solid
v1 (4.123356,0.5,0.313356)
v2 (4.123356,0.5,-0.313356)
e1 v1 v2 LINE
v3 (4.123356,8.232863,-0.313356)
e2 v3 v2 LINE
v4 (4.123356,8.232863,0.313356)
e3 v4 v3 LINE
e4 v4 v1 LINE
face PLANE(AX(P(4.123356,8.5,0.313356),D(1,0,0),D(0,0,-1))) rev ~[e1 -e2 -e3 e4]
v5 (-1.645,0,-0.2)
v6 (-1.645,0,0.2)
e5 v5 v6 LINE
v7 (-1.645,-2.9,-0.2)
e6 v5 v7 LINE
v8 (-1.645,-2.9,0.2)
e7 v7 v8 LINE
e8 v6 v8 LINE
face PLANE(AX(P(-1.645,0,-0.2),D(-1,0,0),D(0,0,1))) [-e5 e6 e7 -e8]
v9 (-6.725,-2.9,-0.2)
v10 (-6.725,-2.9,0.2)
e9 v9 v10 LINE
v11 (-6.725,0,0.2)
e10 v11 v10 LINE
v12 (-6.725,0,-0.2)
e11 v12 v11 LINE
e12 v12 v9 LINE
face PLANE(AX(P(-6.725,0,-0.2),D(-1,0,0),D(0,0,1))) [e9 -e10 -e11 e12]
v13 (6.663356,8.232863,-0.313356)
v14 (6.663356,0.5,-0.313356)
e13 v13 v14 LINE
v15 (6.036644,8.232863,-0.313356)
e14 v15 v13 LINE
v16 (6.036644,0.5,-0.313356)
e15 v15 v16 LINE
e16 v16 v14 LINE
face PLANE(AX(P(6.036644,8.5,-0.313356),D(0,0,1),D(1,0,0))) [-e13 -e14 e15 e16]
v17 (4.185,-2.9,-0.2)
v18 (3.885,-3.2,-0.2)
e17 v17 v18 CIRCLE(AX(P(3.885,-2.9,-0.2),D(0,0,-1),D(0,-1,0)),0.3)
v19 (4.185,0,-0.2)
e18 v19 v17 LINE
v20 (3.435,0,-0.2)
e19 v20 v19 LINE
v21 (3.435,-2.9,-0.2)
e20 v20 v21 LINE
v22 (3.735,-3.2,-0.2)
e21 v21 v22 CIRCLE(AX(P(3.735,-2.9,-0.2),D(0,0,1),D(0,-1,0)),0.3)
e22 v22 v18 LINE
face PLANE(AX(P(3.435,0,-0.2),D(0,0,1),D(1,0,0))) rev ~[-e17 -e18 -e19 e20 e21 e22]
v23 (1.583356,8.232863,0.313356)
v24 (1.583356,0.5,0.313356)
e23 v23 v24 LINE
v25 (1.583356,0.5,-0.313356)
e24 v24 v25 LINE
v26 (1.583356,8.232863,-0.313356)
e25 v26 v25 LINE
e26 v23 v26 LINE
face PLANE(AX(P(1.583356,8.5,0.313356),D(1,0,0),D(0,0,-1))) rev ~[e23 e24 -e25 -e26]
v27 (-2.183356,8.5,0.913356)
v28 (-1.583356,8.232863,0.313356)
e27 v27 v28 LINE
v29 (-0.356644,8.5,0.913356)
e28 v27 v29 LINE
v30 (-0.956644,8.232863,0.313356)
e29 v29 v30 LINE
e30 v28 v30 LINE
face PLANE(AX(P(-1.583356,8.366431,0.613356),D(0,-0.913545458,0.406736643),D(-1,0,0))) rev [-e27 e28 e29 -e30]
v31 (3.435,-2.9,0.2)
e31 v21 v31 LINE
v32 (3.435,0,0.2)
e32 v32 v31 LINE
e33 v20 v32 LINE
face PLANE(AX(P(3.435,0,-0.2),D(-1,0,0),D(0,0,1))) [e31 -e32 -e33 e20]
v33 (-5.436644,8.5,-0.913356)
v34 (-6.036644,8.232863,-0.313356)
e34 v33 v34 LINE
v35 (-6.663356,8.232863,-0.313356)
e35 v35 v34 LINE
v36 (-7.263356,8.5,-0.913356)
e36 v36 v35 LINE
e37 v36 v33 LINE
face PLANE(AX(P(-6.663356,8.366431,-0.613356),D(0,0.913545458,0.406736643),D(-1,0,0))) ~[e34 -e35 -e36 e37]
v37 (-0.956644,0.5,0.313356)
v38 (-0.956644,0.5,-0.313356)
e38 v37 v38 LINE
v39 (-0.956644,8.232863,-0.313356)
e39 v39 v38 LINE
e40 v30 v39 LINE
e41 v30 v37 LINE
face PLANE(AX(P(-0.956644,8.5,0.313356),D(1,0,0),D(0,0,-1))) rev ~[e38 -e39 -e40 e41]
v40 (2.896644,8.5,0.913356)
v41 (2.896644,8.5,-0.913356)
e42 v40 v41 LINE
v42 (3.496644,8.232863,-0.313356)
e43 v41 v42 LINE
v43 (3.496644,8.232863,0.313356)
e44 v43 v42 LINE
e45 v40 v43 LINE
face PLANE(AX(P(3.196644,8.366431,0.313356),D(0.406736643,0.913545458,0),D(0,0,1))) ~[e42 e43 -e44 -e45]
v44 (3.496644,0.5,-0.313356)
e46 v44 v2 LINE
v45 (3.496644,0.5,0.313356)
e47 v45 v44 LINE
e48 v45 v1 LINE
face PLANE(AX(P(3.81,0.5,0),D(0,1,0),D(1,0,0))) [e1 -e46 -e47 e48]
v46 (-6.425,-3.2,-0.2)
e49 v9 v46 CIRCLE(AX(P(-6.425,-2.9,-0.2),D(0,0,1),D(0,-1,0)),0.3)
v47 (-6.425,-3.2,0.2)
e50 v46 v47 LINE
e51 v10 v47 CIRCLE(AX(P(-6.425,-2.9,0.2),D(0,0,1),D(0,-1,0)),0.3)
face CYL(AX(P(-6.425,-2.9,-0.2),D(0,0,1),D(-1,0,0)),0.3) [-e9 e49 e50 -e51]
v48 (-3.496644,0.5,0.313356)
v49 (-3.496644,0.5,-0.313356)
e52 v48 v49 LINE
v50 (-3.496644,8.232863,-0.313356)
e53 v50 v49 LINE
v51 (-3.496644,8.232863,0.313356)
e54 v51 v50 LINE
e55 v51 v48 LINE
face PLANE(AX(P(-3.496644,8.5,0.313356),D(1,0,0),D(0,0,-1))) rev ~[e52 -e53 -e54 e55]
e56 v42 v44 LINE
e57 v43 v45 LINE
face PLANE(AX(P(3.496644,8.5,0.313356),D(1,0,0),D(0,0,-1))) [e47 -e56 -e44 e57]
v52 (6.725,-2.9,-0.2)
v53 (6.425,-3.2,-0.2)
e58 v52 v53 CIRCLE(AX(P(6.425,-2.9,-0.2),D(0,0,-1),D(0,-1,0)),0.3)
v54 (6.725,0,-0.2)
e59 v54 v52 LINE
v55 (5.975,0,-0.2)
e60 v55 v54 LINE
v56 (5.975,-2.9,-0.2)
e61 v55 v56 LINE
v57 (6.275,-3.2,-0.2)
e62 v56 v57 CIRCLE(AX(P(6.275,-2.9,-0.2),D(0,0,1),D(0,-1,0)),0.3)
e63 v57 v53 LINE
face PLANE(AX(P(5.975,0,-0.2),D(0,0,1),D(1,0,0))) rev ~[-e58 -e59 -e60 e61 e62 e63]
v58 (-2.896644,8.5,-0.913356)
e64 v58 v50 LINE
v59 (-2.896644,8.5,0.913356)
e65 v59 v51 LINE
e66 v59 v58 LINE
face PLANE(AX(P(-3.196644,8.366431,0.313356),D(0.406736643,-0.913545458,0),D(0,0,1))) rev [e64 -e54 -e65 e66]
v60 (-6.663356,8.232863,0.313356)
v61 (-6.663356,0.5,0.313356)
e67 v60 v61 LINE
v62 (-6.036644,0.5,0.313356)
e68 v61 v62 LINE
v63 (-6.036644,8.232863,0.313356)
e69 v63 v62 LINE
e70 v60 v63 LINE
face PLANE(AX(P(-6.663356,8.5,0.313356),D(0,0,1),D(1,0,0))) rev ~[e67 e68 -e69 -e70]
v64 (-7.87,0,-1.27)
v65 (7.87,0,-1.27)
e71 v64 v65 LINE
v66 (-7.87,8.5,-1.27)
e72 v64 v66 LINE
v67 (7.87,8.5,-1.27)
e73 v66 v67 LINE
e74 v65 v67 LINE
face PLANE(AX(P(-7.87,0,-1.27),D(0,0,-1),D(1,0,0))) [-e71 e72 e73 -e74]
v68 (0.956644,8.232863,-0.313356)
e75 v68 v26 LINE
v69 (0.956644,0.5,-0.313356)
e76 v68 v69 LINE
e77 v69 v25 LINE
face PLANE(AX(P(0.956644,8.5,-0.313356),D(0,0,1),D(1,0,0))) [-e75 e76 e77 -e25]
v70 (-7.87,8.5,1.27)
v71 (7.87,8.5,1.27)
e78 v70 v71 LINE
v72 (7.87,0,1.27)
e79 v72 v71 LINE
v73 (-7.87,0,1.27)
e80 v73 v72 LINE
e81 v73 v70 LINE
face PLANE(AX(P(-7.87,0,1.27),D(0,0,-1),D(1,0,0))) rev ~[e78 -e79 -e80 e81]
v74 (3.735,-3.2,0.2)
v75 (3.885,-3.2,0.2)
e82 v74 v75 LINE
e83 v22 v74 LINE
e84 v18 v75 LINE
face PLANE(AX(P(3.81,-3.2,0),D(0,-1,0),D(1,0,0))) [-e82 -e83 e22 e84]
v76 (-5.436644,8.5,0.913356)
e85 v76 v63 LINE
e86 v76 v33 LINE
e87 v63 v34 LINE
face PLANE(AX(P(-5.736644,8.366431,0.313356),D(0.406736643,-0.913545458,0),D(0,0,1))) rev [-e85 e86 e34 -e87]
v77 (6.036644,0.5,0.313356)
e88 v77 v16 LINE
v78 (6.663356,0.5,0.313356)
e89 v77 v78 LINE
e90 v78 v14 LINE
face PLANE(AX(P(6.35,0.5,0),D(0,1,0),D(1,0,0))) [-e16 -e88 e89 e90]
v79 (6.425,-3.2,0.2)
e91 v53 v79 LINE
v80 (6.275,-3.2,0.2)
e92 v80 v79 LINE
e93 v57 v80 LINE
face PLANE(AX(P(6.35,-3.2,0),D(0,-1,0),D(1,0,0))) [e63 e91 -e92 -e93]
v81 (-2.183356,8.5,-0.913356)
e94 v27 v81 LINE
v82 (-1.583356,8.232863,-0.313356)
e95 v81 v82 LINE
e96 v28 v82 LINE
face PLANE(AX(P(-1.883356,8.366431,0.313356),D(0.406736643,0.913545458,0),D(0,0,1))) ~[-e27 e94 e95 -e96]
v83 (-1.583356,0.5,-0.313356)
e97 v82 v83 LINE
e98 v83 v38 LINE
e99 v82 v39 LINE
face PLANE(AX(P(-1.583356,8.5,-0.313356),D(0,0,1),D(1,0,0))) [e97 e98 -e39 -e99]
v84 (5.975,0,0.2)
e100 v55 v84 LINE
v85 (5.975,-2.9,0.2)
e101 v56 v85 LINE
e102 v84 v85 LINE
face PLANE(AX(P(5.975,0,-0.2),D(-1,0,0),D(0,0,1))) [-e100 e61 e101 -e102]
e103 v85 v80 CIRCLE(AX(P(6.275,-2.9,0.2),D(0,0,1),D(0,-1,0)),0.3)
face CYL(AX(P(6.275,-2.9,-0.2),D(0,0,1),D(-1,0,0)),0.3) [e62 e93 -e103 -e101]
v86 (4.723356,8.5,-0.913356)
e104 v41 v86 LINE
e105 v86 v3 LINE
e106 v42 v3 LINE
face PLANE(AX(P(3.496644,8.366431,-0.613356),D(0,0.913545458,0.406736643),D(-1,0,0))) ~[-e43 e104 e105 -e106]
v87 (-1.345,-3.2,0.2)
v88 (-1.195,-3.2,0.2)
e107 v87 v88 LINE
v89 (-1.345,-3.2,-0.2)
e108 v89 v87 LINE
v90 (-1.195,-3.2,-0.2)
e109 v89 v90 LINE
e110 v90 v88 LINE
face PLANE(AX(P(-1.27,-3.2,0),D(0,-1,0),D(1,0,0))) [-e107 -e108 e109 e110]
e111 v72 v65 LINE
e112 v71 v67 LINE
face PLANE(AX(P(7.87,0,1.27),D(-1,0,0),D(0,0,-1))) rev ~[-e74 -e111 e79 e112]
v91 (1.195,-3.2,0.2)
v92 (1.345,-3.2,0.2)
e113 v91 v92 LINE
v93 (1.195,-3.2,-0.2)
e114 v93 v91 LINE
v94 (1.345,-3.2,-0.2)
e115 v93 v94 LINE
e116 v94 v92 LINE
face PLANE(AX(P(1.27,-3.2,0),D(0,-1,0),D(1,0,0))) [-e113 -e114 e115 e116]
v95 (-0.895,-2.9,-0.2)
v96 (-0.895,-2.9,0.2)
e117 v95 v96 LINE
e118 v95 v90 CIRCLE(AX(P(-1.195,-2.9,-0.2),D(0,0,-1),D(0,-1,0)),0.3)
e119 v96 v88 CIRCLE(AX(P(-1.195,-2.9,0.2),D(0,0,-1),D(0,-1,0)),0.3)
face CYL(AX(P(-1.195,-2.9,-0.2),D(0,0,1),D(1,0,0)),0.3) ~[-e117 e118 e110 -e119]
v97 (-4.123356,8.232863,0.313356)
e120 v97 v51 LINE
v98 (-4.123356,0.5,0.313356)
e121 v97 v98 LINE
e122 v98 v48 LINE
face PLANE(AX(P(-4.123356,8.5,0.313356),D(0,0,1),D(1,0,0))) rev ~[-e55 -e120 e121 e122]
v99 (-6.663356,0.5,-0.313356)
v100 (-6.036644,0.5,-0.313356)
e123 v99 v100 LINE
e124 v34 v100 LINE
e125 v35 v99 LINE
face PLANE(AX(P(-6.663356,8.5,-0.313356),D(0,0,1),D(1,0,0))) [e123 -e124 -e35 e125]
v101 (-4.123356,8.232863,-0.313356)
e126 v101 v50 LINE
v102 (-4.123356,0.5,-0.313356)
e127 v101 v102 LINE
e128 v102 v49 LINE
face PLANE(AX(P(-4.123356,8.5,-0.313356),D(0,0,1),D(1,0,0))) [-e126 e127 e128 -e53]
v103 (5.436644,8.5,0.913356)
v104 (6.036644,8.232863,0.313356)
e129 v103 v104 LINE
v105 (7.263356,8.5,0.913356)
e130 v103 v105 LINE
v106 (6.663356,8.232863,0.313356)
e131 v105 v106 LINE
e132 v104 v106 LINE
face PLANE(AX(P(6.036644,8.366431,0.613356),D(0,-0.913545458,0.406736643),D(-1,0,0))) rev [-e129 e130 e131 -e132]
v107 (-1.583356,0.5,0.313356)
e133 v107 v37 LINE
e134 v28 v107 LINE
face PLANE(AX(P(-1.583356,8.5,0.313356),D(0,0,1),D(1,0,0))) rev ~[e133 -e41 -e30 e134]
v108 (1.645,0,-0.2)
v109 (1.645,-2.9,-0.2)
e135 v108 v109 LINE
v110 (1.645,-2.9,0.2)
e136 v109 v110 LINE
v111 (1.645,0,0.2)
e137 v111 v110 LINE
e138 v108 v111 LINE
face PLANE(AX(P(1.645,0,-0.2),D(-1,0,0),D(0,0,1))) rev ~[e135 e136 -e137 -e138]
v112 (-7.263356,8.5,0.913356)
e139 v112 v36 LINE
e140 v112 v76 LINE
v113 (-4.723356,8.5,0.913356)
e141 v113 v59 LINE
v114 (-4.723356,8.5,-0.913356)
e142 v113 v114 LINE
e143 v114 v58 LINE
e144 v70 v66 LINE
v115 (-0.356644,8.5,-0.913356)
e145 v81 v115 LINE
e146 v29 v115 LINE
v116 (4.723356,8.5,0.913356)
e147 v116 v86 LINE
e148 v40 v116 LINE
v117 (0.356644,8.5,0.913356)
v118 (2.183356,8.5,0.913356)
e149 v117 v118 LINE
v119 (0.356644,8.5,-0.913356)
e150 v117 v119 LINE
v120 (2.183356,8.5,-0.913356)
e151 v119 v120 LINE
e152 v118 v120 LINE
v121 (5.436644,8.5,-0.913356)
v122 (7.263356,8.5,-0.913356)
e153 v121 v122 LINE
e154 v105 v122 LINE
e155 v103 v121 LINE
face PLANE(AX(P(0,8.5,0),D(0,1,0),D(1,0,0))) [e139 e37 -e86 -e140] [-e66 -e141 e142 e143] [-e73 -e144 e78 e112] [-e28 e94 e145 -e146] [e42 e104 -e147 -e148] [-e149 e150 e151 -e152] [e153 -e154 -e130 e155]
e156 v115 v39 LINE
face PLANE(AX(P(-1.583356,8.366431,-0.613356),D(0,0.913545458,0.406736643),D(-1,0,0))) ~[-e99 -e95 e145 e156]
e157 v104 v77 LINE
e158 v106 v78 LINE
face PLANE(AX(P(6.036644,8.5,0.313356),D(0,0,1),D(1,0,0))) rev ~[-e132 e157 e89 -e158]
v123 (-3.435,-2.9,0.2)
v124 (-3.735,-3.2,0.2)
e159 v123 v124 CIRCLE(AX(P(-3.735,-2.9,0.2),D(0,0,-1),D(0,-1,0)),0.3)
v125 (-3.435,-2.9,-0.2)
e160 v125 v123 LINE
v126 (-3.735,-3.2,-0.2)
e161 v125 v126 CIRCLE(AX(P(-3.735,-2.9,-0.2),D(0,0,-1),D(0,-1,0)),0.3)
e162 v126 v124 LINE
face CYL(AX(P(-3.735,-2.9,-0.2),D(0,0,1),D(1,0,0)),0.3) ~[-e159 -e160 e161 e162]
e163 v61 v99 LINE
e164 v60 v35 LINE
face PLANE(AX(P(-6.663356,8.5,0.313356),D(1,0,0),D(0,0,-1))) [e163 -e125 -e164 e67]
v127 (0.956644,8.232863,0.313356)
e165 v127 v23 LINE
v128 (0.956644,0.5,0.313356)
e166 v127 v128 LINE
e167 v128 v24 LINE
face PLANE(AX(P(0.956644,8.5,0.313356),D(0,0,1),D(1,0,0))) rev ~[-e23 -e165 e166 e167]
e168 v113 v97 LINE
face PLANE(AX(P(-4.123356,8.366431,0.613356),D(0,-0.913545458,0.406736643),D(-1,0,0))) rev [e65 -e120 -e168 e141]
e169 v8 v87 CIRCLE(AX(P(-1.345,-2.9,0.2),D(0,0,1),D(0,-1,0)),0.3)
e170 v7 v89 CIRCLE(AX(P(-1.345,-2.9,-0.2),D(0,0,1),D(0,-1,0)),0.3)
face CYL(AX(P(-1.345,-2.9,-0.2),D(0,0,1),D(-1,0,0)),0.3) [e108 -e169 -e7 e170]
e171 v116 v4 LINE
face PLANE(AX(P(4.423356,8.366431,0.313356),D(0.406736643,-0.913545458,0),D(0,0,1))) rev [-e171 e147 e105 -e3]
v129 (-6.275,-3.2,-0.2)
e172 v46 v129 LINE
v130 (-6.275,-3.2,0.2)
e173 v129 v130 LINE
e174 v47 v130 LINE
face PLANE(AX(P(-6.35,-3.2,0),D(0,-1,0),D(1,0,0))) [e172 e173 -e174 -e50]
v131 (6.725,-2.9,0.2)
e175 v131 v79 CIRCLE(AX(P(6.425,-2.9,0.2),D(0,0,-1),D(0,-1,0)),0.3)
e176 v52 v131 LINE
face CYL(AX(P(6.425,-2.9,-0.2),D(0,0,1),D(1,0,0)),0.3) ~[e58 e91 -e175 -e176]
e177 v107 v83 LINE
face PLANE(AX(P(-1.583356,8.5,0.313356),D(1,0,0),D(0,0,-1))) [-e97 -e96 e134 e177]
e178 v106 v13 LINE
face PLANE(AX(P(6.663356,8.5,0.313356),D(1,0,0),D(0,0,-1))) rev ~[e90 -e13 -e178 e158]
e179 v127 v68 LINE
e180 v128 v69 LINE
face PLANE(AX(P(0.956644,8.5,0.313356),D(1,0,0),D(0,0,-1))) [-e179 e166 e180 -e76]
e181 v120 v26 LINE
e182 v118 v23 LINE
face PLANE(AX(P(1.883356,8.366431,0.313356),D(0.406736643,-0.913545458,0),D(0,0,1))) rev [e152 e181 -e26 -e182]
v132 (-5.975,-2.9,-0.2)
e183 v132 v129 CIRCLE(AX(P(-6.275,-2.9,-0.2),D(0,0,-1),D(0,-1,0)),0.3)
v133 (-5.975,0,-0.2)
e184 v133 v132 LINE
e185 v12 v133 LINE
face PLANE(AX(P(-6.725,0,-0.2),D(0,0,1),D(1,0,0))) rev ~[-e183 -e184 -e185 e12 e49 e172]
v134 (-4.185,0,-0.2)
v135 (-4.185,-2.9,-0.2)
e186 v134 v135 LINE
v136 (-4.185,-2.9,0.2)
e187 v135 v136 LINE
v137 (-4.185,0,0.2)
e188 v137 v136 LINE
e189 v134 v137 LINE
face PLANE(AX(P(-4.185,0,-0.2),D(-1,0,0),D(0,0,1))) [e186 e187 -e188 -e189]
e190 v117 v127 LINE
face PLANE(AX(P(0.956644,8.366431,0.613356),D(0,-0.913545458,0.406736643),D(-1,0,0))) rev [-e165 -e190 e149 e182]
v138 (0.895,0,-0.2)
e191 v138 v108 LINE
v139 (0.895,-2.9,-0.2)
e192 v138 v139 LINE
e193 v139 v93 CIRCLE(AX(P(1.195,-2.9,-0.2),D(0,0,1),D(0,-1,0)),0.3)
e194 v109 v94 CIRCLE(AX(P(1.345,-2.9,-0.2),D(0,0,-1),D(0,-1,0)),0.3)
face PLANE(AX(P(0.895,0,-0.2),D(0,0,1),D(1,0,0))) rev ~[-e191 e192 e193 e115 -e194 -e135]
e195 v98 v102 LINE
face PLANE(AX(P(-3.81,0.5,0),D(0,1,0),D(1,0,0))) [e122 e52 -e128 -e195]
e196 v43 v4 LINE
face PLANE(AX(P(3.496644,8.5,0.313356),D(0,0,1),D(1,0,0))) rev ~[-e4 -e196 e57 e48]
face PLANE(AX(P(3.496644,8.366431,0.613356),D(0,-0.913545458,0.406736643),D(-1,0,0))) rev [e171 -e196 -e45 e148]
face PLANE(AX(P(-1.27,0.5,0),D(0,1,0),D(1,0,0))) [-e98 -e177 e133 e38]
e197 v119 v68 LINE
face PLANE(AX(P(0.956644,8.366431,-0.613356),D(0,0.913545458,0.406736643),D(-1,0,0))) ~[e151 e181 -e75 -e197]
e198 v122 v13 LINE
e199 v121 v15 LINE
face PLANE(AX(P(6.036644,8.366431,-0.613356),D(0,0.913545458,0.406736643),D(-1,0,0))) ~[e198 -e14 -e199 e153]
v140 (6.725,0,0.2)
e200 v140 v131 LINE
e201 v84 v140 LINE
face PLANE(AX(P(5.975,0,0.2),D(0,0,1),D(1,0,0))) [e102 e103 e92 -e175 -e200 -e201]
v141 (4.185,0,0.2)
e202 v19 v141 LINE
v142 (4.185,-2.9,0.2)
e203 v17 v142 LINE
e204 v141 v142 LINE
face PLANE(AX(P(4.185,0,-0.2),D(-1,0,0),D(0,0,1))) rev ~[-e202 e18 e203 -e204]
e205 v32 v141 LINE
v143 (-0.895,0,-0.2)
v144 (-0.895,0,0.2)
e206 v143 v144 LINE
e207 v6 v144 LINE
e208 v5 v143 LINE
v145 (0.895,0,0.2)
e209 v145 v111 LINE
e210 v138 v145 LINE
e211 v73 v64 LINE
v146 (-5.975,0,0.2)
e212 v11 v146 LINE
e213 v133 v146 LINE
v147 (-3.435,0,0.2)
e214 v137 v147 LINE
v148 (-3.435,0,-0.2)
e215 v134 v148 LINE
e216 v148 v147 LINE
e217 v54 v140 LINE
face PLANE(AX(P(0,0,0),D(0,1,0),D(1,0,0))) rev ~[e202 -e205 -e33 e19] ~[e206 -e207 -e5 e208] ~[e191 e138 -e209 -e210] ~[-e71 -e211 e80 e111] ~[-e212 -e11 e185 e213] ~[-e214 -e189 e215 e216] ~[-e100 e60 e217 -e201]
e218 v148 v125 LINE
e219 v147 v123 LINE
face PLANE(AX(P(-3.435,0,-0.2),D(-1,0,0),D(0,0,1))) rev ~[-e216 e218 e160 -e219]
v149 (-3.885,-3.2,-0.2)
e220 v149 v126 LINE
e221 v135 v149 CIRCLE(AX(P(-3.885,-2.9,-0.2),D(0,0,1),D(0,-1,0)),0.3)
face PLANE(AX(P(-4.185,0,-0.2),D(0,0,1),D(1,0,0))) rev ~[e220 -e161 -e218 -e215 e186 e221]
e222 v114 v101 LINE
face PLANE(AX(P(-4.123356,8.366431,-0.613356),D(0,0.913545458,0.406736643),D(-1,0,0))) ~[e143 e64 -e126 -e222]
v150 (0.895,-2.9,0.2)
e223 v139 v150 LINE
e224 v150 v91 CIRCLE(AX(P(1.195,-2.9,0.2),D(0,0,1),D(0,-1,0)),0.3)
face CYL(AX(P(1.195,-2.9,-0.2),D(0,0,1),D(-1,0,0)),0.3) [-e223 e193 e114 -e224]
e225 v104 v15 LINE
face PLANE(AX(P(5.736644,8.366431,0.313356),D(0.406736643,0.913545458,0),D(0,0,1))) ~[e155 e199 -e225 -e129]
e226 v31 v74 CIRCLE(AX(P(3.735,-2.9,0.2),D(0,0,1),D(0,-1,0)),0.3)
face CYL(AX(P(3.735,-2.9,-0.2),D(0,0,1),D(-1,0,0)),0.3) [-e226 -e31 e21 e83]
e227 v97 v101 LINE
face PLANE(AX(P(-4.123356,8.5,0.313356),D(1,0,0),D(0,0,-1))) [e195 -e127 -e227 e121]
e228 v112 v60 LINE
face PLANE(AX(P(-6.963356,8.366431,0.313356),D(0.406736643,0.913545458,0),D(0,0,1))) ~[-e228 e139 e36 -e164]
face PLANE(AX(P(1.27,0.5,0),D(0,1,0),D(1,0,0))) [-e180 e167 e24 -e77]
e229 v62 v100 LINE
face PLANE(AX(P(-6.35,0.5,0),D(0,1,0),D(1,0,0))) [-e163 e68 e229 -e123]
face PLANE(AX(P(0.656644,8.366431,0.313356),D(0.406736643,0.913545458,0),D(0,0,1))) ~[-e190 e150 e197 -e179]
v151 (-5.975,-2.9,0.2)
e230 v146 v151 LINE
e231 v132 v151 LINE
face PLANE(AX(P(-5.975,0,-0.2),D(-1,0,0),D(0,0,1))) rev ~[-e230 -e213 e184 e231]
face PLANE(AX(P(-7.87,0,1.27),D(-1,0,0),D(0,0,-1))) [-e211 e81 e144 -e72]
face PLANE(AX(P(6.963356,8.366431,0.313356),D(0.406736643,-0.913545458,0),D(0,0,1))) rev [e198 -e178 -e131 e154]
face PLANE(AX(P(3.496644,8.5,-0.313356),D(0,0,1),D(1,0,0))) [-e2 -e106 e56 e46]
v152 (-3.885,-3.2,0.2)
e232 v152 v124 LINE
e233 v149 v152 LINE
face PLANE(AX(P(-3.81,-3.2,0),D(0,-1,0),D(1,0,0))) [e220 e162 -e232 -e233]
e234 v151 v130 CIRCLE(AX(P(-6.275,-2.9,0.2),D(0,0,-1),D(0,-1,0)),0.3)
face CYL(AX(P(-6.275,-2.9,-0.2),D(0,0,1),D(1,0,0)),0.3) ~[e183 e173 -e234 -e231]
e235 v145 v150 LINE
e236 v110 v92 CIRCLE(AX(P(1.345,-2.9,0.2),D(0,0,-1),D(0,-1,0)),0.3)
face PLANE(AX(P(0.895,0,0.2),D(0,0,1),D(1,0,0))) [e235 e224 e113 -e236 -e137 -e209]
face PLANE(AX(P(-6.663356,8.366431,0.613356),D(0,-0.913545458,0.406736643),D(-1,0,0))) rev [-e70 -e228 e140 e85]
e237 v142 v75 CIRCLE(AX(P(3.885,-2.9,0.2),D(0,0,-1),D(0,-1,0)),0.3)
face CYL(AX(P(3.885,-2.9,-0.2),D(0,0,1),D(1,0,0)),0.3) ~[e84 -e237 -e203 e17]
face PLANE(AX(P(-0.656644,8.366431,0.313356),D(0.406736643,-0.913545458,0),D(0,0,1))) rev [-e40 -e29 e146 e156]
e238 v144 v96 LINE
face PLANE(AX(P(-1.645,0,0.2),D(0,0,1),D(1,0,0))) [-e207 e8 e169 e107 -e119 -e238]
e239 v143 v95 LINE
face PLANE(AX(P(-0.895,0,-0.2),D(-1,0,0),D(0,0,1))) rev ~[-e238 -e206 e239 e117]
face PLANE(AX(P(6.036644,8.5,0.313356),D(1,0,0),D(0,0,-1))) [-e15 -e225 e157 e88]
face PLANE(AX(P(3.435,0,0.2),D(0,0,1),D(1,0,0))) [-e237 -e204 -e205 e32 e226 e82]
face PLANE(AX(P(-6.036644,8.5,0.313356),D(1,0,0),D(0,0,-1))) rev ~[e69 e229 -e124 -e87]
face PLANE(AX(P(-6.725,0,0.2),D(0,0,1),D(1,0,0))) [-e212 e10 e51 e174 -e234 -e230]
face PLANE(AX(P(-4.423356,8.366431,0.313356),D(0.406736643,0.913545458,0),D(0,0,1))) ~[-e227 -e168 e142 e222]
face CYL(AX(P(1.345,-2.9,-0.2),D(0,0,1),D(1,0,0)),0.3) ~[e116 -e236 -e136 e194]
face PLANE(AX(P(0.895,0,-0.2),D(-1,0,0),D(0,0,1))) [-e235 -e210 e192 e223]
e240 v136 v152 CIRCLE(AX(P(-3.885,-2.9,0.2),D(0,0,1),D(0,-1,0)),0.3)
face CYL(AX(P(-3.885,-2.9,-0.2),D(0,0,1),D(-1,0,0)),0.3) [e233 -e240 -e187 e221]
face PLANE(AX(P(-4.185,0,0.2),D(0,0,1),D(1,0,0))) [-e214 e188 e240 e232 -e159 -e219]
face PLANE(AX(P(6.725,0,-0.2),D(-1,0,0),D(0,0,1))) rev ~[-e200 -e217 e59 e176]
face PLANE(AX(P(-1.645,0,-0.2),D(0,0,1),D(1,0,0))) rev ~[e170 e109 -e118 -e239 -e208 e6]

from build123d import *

# Parameters (mm, degrees)
ESQUISSE1_W             = 15.74
ESQUISSE1_H             = 2.54
BOSS_EXTRU_1_DEPTH      = 8.5
ESQUISSE3_W             = 0.626711562
ESQUISSE3_H             = 0.626711562
ENL_V_MAT_EXTRU_3_DEPTH = 8
CHANFREIN3_SIZE         = 0.6
CHANFREIN3_SIZE2        = 0.267137211
ESQUISSE6_W             = 0.75
ESQUISSE6_H             = 0.4
BOSS_EXTRU_3_DEPTH      = 3.2
CONG_1_R                = 0.3


with BuildPart() as part:
    # Esquisse1 → Boss.-Extru.1 (new body)
    with BuildSketch(Plane(origin=(0, 0, 0), x_dir=(1, 0, 0), z_dir=(0, 1, 0))):
        Rectangle(ESQUISSE1_W, ESQUISSE1_H)
    extrude(amount=BOSS_EXTRU_1_DEPTH)

    # Esquisse3 → Enlèv. mat.-Extru.3 (cut)
    with BuildSketch(Plane(origin=(0, 8.5, 0), x_dir=(1, 0, 0), z_dir=(0, 1, 0))):
        with Locations((-6.35, 0)):
            Rectangle(ESQUISSE3_W, ESQUISSE3_H)
        with Locations((-3.81, 0)):
            Rectangle(ESQUISSE3_W, ESQUISSE3_H)
        with Locations((-1.27, 0)):
            Rectangle(ESQUISSE3_W, ESQUISSE3_H)
        with Locations((1.27, 0)):
            Rectangle(ESQUISSE3_W, ESQUISSE3_H)
        with Locations((3.81, 0)):
            Rectangle(ESQUISSE3_W, ESQUISSE3_H)
        with Locations((6.35, 0)):
            Rectangle(ESQUISSE3_W, ESQUISSE3_H)
    extrude(amount=-ENL_V_MAT_EXTRU_3_DEPTH, mode=Mode.SUBTRACT)

    # Chanfrein3
    chanfrein3_edges = [part.edges().sort_by_distance(p)[0] for p in [
        (-3.81, 8.5, -0.313355781),
        (-3.496644219, 8.5, 0),
        (-4.123355781, 8.5, 0),
        (-3.81, 8.5, 0.313355781),
        (-6.35, 8.5, -0.313355781),
        (-6.036644219, 8.5, 0),
        (-6.663355781, 8.5, 0),
        (-6.35, 8.5, 0.313355781),
        (3.81, 8.5, -0.313355781),
        (4.123355781, 8.5, 0),
        (3.496644219, 8.5, 0),
        (3.81, 8.5, 0.313355781),
        (1.27, 8.5, -0.313355781),
        (1.583355781, 8.5, 0),
        (0.956644219, 8.5, 0),
        (1.27, 8.5, 0.313355781),
        (-1.27, 8.5, -0.313355781),
        (-0.956644219, 8.5, 0),
        (-1.583355781, 8.5, 0),
        (-1.27, 8.5, 0.313355781),
        (6.35, 8.5, -0.313355781),
        (6.663355781, 8.5, 0),
        (6.036644219, 8.5, 0),
        (6.35, 8.5, 0.313355781),
    ]]
    chanfrein3_side = [part.faces().sort_by_distance(p)[0] for p in [
        (0, 8.5, 0),
    ]]
    chamfer(chanfrein3_edges, length=CHANFREIN3_SIZE, length2=CHANFREIN3_SIZE2, reference=chanfrein3_side[0])

    # Esquisse6 → Boss.-Extru.3 (add)
    with BuildSketch(Plane.XZ):
        with Locations((-6.35, 0)):
            Rectangle(ESQUISSE6_W, ESQUISSE6_H)
        with Locations((-3.81, 0)):
            Rectangle(ESQUISSE6_W, ESQUISSE6_H)
        with Locations((-1.27, 0)):
            Rectangle(ESQUISSE6_W, ESQUISSE6_H)
        with Locations((1.27, 0)):
            Rectangle(ESQUISSE6_W, ESQUISSE6_H)
        with Locations((3.81, 0)):
            Rectangle(ESQUISSE6_W, ESQUISSE6_H)
        with Locations((6.35, 0)):
            Rectangle(ESQUISSE6_W, ESQUISSE6_H)
    extrude(amount=BOSS_EXTRU_3_DEPTH)

    # Congé1
    cong_1_edges = [part.edges().sort_by_distance(p)[0] for p in [
        (-5.975, -3.2, 0),
        (-6.725, -3.2, 0),
        (-3.435, -3.2, 0),
        (-4.185, -3.2, 0),
        (-0.895, -3.2, 0),
        (-1.645, -3.2, 0),
        (1.645, -3.2, 0),
        (0.895, -3.2, 0),
        (4.185, -3.2, 0),
        (3.435, -3.2, 0),
        (6.725, -3.2, 0),
        (5.975, -3.2, 0),
    ]]
    fillet(cong_1_edges, radius=CONG_1_R)


solid = part.part
